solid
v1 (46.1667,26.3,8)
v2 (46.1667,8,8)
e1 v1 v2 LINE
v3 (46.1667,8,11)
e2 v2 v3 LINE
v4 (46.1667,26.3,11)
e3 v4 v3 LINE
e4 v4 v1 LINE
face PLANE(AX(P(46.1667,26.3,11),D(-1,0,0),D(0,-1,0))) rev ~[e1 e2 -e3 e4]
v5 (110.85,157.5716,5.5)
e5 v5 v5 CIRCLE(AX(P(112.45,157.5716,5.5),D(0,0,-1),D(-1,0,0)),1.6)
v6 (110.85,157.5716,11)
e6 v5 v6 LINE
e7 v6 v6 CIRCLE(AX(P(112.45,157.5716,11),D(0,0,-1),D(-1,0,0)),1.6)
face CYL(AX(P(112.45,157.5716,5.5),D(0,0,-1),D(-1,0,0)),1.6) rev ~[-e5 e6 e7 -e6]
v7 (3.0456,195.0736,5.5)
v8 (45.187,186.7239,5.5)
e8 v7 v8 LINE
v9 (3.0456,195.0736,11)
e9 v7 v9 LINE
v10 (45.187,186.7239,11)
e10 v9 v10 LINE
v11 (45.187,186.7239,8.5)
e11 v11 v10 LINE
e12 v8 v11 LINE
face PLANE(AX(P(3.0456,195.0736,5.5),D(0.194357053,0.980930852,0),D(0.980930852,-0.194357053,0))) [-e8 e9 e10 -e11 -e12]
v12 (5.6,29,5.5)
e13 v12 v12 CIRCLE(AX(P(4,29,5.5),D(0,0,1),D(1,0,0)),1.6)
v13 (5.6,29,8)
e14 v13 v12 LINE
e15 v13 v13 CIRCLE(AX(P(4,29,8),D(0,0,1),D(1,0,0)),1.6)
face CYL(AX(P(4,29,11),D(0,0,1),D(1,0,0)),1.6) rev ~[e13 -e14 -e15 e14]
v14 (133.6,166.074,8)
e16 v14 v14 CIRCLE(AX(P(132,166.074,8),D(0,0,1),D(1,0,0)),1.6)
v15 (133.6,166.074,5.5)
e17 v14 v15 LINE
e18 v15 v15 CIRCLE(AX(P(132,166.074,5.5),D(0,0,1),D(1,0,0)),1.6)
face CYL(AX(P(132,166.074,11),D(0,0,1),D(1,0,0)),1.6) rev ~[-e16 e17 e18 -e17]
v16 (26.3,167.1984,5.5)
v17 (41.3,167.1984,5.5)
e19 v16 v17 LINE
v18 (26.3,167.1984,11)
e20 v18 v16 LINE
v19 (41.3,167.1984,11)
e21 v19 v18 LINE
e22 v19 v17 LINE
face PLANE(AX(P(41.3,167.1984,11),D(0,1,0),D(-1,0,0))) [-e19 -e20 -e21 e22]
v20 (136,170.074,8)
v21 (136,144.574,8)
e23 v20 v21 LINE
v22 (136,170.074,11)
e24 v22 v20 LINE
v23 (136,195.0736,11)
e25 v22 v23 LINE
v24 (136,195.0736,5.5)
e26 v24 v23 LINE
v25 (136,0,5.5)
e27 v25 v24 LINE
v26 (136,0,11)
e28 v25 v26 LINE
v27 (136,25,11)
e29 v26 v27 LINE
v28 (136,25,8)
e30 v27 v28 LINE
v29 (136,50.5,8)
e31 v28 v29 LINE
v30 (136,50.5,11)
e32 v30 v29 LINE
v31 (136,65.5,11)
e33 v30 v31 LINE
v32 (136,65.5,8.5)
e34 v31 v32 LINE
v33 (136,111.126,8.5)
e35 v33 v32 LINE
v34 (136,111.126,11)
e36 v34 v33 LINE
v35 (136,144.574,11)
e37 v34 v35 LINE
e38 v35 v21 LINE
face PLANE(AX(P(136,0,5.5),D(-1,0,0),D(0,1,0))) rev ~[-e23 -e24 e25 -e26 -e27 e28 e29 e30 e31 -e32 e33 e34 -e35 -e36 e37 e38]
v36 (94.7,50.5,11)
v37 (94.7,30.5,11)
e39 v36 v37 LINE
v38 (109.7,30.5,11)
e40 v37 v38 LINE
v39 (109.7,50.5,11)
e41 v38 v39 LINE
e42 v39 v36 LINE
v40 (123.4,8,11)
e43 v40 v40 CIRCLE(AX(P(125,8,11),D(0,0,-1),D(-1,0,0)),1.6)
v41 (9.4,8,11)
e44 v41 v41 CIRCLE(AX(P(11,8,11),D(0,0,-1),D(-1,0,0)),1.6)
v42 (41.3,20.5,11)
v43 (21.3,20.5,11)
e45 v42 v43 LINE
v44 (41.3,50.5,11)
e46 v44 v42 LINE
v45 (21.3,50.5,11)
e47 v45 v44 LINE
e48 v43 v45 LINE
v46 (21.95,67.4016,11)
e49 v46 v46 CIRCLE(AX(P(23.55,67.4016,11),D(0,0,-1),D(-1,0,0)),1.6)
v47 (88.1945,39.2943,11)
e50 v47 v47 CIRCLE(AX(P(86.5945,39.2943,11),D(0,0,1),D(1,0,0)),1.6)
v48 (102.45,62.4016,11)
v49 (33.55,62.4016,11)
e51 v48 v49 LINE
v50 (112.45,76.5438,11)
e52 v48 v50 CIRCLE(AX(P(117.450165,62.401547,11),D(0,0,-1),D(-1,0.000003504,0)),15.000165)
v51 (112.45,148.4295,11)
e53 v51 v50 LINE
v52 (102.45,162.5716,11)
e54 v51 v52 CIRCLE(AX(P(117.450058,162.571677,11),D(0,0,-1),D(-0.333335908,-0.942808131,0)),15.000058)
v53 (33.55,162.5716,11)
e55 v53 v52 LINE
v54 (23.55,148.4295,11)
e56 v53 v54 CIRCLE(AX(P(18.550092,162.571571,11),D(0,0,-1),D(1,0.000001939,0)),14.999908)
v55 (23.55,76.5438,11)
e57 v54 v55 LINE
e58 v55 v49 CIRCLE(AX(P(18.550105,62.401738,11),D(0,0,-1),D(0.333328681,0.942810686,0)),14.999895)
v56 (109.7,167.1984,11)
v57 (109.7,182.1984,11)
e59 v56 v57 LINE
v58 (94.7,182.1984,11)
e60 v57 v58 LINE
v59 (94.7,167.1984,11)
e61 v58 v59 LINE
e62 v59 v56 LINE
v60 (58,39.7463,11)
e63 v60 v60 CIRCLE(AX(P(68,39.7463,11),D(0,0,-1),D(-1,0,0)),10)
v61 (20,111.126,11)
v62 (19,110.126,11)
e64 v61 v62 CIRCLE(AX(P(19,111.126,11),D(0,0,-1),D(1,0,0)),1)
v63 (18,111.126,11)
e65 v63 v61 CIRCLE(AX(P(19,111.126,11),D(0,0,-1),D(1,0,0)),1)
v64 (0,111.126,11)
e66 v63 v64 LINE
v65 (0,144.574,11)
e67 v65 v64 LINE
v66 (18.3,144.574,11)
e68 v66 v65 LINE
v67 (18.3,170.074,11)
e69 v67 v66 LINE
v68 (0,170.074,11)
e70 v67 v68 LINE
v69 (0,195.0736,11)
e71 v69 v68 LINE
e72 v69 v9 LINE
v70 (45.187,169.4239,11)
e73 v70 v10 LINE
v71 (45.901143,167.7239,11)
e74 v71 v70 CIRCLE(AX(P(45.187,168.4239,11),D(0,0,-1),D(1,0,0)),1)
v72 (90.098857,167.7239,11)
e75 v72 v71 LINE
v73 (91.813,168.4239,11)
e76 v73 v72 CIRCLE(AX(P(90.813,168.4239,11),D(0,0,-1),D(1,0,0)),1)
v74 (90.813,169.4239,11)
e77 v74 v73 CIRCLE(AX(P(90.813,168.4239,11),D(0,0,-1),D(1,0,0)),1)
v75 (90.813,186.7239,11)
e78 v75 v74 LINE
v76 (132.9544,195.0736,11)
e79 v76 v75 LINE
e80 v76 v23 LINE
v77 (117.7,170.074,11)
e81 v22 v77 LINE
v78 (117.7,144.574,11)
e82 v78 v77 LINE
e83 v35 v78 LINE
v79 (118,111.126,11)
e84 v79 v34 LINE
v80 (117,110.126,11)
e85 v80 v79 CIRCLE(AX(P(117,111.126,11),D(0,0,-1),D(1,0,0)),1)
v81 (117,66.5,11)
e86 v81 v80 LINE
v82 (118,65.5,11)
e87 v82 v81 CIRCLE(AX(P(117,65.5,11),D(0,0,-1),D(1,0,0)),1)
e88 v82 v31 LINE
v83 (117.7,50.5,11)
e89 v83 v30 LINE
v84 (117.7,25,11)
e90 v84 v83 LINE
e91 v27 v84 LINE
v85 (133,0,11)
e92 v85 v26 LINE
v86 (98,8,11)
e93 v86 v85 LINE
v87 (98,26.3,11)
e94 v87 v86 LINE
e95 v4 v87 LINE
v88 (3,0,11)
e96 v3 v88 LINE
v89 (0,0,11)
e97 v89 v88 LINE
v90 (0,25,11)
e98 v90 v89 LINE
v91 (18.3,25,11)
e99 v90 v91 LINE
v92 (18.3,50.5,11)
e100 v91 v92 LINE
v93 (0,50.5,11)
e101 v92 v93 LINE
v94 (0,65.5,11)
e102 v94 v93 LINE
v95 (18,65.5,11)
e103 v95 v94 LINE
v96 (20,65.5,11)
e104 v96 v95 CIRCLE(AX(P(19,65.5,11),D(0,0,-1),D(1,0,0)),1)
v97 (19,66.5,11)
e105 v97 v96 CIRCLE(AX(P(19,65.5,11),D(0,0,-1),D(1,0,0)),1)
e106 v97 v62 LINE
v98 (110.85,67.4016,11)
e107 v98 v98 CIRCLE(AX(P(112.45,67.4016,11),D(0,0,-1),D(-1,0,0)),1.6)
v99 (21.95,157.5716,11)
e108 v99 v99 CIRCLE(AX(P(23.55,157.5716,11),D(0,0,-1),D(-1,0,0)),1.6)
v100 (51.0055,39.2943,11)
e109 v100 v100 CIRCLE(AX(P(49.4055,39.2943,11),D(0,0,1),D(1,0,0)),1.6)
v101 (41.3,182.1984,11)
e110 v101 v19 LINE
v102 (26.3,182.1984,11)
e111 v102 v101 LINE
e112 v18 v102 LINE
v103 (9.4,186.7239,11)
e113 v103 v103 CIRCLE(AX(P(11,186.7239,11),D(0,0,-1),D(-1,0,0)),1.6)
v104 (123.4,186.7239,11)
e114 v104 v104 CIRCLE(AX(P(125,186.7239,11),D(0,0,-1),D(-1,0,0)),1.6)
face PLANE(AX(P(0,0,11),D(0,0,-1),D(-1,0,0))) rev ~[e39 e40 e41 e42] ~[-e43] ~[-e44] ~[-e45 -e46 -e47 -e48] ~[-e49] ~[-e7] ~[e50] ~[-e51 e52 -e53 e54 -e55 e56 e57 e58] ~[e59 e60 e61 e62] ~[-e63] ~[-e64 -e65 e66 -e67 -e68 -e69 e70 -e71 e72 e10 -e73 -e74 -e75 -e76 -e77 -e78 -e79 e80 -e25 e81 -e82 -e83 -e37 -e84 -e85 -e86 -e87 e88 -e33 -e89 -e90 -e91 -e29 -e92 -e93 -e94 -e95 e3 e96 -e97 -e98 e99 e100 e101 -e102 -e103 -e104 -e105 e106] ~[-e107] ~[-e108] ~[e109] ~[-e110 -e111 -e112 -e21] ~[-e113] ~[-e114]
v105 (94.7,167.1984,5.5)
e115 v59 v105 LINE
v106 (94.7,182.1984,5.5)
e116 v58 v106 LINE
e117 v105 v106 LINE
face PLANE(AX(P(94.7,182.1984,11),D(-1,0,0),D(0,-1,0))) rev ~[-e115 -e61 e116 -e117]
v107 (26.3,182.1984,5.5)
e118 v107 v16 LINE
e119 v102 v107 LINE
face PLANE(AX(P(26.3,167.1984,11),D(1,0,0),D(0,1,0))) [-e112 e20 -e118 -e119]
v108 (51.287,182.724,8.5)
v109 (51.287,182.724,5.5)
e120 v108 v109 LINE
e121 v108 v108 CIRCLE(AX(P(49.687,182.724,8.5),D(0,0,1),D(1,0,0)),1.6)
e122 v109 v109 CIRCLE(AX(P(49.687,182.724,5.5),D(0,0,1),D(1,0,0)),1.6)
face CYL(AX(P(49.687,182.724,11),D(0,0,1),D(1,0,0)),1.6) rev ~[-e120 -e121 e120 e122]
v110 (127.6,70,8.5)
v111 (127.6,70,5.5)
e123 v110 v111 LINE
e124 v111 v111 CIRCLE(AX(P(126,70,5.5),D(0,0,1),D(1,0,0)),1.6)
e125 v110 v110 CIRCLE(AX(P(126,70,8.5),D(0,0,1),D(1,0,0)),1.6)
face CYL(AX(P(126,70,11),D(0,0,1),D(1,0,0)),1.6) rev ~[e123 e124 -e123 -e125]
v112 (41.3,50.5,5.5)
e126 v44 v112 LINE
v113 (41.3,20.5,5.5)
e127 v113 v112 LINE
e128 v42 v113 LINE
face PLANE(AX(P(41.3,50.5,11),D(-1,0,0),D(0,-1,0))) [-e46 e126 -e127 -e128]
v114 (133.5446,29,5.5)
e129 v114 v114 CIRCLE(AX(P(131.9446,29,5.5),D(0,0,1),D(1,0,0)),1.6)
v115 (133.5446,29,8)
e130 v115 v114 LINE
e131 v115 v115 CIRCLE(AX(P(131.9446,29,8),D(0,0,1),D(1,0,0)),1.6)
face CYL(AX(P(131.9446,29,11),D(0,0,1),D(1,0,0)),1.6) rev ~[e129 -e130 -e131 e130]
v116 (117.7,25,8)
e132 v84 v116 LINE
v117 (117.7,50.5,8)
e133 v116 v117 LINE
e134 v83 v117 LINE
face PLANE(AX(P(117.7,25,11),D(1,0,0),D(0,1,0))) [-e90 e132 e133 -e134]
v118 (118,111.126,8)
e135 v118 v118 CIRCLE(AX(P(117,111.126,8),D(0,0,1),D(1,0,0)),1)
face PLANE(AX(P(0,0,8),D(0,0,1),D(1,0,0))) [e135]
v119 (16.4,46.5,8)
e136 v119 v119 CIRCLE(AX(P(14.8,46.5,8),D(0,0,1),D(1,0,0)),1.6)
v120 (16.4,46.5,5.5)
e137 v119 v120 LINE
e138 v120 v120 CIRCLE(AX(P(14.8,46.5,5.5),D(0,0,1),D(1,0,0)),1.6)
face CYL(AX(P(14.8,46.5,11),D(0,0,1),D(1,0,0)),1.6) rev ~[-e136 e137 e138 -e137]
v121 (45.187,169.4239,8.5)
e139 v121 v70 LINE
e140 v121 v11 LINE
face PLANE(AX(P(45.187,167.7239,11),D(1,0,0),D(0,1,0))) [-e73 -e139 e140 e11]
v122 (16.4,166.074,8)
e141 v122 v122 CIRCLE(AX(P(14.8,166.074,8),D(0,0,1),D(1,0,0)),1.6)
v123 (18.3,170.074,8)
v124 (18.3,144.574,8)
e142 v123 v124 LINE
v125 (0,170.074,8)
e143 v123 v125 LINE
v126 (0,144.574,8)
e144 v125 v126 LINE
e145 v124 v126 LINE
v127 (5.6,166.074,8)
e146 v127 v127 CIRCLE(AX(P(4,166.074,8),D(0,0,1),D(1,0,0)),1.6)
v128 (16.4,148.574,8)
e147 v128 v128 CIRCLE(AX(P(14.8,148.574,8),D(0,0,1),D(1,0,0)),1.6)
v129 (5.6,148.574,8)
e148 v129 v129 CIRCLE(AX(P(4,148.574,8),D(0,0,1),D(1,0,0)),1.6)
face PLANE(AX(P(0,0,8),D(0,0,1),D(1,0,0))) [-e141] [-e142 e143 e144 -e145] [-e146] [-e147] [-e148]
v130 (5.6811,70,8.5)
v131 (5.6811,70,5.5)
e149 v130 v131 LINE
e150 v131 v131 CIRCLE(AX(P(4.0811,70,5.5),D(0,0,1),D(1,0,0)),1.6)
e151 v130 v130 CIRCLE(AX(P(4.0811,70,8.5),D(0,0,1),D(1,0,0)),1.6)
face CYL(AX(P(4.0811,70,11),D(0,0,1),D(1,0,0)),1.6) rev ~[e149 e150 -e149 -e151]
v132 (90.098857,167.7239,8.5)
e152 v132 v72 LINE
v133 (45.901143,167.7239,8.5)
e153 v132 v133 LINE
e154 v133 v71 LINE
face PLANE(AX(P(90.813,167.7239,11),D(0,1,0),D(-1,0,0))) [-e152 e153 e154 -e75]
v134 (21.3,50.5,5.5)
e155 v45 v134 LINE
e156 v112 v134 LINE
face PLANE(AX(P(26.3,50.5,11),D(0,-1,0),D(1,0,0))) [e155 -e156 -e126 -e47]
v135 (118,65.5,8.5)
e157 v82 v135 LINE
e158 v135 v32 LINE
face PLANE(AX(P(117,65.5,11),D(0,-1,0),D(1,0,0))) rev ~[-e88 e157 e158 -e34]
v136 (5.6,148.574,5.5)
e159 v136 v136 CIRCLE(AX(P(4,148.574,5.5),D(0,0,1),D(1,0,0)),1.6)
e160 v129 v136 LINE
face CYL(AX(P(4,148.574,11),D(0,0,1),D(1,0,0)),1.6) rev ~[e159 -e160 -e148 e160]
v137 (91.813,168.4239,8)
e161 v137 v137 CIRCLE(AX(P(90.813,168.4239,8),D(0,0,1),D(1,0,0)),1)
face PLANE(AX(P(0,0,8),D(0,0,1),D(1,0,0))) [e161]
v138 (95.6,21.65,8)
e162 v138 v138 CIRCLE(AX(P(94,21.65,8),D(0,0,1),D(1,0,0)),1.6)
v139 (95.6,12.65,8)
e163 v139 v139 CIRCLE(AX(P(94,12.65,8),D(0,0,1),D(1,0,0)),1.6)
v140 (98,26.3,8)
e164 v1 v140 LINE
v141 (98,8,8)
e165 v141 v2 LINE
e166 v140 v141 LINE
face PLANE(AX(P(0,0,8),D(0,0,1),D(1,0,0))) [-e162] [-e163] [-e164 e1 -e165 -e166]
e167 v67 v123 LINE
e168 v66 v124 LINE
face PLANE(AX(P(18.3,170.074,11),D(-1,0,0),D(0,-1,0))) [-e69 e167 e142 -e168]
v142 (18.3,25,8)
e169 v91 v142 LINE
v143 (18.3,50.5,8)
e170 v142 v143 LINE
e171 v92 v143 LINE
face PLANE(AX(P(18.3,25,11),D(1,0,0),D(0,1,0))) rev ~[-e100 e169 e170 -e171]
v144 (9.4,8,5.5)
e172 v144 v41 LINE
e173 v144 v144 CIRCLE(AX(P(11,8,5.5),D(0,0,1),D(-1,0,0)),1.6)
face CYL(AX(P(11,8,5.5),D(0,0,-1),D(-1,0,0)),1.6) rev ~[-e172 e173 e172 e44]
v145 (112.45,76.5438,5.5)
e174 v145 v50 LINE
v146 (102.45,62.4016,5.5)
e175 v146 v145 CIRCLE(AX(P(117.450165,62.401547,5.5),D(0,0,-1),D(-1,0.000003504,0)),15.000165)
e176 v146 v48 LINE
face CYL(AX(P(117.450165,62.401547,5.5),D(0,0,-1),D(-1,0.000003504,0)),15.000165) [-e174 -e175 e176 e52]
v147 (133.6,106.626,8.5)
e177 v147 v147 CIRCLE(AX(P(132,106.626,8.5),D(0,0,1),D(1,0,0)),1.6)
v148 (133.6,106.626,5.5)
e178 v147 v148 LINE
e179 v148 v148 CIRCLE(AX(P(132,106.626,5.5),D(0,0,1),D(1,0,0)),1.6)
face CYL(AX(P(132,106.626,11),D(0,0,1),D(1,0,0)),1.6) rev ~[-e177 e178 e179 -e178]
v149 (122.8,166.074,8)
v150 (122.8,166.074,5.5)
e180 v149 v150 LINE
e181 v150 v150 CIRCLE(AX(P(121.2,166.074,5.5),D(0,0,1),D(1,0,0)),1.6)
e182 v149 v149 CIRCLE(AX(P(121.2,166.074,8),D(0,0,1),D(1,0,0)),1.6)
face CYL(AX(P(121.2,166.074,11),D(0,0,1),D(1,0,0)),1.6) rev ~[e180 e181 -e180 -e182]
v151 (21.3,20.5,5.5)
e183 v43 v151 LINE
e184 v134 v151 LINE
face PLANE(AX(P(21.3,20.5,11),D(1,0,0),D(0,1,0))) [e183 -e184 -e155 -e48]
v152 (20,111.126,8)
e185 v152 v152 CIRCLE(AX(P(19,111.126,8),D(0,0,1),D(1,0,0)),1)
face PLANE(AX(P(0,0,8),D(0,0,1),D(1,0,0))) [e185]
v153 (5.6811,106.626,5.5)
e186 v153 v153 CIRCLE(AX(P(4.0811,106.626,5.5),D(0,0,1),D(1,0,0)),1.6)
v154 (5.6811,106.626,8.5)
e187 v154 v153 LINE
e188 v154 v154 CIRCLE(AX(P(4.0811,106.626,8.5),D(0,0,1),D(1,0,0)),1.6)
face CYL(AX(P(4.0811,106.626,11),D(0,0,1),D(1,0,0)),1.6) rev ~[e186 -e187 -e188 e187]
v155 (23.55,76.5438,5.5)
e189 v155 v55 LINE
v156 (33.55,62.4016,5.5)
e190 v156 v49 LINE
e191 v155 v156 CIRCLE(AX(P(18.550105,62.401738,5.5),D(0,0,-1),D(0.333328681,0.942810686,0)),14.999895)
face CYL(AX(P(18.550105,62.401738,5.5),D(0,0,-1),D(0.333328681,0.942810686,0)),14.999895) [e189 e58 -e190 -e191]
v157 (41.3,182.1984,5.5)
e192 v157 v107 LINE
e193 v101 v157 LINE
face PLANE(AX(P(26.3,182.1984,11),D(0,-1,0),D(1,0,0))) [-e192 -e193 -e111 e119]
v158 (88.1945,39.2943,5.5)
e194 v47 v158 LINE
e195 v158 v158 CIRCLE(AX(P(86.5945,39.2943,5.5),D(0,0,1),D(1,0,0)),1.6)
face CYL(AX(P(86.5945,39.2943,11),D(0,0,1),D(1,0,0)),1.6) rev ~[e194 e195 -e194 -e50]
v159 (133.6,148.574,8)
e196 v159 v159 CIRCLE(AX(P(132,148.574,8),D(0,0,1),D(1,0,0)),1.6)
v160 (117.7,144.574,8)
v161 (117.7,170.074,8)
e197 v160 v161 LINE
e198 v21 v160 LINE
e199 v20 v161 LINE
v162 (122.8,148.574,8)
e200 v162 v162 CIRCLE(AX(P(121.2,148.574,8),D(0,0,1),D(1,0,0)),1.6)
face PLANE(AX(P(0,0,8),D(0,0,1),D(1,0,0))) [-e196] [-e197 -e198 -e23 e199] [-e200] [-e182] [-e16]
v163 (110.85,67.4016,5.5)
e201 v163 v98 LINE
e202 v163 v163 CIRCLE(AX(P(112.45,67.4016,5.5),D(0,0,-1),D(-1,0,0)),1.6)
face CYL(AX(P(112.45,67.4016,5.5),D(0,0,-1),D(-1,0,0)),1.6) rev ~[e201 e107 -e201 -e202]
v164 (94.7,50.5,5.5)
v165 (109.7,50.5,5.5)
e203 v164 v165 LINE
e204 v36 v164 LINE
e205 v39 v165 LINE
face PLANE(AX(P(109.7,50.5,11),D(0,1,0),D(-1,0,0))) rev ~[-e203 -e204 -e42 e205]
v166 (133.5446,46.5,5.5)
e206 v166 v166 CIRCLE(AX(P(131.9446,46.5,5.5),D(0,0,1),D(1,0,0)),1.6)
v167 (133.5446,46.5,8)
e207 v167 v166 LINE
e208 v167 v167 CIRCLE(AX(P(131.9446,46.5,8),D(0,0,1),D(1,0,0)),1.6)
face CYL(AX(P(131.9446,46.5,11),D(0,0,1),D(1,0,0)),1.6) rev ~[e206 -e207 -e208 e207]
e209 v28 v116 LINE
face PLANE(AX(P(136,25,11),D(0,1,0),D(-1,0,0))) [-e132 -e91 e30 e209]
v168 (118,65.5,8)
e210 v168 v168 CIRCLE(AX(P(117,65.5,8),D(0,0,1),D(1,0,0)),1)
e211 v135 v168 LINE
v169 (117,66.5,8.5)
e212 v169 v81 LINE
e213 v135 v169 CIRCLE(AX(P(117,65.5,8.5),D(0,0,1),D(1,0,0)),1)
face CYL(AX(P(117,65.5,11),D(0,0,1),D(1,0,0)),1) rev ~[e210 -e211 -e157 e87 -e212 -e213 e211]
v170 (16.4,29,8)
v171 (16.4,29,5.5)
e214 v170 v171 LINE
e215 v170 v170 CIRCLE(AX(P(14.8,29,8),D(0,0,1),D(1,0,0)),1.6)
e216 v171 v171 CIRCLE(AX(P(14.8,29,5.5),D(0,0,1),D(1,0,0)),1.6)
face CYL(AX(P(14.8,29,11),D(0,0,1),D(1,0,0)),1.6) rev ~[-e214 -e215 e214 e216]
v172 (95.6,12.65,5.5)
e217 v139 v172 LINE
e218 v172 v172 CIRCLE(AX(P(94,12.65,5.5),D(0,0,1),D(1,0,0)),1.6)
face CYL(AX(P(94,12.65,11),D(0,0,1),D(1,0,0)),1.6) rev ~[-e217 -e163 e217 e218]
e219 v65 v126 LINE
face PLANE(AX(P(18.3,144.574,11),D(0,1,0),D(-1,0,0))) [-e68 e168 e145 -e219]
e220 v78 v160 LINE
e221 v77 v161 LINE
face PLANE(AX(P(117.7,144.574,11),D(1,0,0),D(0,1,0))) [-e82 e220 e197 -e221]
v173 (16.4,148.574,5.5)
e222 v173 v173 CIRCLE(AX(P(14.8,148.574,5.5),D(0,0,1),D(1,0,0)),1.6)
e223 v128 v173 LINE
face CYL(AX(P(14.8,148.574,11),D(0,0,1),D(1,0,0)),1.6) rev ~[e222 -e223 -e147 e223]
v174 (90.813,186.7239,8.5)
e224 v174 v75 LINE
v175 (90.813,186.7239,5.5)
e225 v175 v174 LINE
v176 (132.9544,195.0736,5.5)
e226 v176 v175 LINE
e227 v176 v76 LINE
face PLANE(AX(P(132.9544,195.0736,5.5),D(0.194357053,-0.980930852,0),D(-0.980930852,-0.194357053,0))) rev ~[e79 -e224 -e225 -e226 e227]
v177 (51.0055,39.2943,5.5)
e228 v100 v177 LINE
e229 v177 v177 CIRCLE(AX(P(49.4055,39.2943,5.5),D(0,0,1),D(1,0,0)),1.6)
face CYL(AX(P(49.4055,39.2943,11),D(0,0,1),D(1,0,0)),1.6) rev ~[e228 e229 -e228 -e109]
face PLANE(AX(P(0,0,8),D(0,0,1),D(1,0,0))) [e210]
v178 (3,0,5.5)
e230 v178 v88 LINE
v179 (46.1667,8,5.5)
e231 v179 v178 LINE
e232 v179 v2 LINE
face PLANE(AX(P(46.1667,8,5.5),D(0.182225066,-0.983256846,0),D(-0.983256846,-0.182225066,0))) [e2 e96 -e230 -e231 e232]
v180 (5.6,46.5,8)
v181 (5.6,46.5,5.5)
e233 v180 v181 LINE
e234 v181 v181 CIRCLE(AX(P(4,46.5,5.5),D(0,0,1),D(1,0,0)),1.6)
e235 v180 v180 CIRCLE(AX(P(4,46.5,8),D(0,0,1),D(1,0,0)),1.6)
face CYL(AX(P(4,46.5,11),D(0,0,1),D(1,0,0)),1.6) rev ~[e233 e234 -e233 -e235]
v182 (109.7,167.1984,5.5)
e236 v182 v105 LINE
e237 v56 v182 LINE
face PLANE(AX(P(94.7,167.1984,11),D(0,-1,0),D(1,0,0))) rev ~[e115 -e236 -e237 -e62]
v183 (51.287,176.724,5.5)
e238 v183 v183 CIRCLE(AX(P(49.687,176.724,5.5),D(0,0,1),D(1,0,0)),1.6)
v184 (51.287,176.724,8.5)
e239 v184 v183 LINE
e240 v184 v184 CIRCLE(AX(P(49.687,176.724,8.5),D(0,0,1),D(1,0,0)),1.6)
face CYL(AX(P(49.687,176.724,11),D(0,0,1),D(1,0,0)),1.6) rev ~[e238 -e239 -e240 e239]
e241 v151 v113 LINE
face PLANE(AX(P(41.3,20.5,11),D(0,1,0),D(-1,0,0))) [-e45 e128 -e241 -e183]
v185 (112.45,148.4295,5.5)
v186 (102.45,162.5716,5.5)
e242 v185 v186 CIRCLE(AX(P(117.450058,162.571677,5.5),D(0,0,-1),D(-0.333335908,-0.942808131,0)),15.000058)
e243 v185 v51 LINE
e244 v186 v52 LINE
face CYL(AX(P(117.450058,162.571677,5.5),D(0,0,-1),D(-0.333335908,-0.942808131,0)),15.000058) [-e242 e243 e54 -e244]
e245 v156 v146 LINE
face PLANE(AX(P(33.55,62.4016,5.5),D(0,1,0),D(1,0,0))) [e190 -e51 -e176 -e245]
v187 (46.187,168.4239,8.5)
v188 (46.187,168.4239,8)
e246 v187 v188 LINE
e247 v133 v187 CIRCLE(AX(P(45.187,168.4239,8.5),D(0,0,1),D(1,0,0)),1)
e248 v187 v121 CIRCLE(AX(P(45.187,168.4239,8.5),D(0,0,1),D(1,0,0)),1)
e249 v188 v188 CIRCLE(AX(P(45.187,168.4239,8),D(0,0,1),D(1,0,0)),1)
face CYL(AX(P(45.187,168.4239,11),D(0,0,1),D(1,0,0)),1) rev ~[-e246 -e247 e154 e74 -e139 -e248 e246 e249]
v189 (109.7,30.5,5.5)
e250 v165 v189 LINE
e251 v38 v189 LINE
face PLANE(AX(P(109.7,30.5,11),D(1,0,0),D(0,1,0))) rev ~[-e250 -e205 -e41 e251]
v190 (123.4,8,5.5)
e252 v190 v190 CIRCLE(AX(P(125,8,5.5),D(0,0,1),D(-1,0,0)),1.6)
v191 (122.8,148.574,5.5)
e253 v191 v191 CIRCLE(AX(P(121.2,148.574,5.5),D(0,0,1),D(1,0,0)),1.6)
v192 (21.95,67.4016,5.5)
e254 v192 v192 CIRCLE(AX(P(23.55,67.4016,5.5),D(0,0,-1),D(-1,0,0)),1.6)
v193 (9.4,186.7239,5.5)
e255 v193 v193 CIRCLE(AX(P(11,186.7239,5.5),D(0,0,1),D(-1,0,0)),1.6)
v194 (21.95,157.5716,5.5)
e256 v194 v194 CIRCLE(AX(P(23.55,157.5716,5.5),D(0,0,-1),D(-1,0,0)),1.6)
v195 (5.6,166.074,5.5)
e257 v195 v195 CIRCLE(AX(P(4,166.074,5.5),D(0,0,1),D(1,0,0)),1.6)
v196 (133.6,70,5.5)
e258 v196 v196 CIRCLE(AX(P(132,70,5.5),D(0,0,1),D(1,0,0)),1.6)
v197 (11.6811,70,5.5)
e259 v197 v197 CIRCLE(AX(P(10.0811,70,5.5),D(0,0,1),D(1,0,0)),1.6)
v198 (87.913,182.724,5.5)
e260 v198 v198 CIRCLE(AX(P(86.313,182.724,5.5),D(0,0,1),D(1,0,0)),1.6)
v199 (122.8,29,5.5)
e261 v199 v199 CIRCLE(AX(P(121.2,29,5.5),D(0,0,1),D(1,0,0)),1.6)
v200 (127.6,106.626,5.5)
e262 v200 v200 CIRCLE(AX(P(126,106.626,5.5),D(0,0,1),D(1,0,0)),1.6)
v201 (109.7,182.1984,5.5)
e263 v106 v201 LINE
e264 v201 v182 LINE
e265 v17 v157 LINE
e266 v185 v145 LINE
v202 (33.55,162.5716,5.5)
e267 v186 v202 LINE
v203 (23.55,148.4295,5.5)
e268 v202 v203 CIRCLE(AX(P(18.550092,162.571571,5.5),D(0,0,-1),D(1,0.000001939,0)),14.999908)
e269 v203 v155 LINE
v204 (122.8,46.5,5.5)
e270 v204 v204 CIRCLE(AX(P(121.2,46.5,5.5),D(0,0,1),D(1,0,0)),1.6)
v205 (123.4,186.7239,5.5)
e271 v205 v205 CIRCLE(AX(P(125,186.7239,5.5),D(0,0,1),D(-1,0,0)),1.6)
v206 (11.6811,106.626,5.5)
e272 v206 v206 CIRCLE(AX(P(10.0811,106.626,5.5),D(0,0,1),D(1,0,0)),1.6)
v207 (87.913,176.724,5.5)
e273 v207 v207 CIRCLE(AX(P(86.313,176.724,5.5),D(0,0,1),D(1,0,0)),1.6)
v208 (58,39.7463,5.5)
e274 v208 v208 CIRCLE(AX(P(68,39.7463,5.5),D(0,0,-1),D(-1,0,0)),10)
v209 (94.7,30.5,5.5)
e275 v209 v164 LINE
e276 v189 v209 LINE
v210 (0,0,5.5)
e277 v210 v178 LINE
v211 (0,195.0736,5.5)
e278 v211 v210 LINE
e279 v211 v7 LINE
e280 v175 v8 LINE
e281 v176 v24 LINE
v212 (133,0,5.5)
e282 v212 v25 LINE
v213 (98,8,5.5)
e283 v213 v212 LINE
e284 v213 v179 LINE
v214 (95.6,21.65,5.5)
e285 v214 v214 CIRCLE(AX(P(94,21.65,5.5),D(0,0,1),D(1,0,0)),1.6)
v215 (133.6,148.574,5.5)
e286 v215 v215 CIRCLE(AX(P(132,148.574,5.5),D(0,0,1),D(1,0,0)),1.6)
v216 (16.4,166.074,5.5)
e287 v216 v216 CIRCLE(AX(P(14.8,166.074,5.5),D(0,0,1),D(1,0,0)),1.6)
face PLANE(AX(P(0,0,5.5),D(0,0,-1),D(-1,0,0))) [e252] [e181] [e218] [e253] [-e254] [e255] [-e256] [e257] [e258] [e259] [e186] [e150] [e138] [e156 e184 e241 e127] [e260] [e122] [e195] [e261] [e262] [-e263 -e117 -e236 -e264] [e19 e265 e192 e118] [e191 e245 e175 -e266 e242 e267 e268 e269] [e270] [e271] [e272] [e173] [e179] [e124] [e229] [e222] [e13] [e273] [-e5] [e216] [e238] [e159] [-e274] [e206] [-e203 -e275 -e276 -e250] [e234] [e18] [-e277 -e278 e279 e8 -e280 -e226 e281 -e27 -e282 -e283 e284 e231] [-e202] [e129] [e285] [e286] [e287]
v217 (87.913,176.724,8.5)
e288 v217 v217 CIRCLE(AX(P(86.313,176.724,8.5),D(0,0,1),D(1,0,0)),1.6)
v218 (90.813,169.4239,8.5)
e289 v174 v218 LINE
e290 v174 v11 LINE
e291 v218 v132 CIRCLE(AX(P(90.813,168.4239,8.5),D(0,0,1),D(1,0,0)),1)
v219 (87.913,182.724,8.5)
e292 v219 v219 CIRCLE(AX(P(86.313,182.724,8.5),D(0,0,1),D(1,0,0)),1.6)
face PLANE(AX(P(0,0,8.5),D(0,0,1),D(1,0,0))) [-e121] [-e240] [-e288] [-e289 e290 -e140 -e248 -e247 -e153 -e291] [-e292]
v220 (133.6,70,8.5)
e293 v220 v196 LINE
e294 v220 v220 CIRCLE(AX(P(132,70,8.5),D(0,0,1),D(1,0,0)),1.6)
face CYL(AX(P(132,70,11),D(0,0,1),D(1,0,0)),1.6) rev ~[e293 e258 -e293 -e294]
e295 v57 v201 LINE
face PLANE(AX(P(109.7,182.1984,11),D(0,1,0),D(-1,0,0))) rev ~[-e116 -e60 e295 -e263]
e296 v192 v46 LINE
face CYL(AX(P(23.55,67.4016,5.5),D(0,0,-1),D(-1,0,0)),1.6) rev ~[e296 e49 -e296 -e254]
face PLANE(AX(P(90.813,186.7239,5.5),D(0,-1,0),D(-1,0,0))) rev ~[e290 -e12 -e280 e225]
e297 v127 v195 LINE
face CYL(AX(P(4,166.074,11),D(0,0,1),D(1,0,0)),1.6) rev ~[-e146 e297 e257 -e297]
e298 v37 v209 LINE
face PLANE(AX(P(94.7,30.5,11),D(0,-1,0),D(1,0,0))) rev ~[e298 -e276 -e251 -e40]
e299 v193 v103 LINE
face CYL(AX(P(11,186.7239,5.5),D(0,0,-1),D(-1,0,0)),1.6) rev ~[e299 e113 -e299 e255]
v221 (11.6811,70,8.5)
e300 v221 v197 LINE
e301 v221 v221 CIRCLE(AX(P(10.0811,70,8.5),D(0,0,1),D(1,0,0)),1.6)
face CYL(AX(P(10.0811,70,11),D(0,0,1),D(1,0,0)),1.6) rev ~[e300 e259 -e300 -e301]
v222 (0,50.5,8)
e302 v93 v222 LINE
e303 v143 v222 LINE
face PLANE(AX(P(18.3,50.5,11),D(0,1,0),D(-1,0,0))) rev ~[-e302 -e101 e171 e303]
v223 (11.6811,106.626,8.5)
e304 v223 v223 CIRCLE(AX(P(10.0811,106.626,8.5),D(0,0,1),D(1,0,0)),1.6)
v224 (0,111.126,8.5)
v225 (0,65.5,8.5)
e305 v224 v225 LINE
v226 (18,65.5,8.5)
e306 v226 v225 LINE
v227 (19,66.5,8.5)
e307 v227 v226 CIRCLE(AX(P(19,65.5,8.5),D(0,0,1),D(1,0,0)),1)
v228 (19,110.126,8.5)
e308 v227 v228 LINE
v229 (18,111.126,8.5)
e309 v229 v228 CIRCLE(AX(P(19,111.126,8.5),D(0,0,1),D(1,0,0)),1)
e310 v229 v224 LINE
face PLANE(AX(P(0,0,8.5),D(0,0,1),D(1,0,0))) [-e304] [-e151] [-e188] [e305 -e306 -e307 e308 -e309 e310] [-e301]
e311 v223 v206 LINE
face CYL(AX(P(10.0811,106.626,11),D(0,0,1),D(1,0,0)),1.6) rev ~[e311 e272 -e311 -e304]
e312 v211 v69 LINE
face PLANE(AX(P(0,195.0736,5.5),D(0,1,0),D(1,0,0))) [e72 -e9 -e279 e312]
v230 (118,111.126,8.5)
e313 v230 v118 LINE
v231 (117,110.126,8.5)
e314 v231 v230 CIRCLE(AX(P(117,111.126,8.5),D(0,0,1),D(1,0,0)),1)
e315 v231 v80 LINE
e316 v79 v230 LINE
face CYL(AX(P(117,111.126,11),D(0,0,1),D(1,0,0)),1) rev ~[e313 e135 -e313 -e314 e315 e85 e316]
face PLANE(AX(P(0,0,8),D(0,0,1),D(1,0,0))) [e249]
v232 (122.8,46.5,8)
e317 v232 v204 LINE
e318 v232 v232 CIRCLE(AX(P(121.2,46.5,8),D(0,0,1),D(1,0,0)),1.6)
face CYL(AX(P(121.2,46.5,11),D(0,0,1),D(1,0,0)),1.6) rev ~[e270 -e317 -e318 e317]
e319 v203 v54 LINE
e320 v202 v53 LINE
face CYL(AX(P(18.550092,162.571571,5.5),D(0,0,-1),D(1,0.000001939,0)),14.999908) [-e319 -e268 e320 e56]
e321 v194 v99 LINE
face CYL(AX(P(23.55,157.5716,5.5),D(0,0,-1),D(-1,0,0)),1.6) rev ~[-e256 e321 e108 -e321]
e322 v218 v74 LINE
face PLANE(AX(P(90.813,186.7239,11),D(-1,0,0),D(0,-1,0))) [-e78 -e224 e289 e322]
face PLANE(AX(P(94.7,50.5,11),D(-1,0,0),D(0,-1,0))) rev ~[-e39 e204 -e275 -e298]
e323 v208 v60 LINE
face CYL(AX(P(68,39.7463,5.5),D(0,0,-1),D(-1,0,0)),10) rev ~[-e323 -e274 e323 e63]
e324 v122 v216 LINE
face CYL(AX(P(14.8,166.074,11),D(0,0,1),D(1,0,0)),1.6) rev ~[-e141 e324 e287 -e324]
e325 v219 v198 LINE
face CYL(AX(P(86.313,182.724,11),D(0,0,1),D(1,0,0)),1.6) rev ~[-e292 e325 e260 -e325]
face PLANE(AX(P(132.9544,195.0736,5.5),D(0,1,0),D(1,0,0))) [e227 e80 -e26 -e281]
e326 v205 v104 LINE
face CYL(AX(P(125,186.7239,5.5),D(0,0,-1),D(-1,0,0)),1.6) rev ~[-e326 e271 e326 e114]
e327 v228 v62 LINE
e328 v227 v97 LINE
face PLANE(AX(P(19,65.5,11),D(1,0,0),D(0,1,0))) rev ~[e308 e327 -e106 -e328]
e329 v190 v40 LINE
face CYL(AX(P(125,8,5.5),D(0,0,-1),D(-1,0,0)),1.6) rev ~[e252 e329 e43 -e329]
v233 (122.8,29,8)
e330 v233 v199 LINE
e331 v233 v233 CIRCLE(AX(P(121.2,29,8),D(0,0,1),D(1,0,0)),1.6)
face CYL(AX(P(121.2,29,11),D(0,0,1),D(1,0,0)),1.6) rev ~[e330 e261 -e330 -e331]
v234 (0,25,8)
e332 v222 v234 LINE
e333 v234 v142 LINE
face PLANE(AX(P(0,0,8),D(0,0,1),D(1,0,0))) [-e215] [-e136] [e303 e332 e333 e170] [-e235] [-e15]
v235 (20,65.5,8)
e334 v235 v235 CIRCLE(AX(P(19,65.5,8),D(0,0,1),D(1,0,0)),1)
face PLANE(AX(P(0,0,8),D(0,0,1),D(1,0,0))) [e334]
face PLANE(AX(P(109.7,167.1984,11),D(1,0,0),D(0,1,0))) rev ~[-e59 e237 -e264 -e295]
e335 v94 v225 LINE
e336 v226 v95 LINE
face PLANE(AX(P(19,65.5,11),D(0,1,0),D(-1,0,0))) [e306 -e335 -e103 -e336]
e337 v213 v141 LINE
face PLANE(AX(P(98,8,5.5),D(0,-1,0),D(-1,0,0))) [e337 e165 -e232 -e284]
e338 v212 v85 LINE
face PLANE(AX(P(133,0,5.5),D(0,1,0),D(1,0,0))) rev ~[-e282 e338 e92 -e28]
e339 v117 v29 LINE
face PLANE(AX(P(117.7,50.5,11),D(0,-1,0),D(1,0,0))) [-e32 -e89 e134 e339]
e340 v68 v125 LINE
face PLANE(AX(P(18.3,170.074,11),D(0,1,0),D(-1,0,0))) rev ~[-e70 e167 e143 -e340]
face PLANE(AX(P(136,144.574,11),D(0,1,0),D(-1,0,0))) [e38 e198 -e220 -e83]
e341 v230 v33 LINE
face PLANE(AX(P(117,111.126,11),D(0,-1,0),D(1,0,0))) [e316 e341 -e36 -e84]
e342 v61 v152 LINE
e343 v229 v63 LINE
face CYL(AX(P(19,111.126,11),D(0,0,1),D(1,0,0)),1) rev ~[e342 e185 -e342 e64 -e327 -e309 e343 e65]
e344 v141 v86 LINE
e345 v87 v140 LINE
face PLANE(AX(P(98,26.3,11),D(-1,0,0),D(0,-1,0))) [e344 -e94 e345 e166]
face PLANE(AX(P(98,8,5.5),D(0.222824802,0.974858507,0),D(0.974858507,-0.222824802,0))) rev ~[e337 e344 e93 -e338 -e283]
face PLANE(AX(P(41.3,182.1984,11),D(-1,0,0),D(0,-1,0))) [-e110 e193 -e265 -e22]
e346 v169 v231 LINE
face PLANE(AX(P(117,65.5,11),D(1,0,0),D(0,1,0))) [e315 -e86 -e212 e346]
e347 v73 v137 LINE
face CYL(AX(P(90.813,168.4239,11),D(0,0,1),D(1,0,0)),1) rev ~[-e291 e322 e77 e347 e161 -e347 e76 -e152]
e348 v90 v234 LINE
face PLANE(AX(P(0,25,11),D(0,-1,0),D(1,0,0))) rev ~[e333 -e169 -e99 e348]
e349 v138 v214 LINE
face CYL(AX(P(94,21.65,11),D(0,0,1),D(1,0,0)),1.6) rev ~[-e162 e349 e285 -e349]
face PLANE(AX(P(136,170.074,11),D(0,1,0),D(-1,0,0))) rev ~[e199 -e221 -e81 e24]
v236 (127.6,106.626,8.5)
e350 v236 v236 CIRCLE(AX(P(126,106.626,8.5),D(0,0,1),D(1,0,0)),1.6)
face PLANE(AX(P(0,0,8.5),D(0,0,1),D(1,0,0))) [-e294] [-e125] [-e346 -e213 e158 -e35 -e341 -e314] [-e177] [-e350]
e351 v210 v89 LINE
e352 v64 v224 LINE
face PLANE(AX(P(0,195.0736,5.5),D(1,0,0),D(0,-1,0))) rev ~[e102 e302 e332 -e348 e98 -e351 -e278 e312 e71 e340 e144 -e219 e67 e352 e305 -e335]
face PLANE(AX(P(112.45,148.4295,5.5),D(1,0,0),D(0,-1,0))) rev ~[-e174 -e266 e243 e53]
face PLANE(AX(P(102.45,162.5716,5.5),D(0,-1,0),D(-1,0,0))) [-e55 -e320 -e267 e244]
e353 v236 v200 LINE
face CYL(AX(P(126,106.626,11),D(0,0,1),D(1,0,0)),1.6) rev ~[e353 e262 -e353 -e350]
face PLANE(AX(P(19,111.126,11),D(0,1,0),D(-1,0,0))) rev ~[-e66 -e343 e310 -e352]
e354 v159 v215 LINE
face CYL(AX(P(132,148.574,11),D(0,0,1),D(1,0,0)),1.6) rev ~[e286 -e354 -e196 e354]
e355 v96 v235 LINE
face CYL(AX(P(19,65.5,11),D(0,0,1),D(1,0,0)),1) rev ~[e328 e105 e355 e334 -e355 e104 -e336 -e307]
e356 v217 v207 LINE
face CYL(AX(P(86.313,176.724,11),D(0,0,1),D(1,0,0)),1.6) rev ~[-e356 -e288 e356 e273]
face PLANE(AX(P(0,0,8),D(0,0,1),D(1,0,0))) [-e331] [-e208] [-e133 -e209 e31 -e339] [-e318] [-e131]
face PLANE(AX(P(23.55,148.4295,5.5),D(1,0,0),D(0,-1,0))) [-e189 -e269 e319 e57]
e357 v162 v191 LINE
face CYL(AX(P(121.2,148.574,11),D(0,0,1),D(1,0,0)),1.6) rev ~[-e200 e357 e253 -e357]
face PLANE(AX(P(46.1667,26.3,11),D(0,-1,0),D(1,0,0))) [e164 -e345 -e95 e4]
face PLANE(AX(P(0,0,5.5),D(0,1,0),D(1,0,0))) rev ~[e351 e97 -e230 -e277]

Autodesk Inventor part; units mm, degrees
ref_plane "YZ Plane" through (0, 0, 0) normal (1, 0, 0) x (0, 1, 0)
ref_plane "XZ Plane" through (0, 0, 0) normal (0, 1, 0) x (-1, 0, 0)
ref_plane "XY Plane" through (0, 0, 0) normal (0, 0, 1) x (1, 0, 0)
ref_plane "作業平面1" through (0, 0, 5.5) normal (0, 0, 1) x (1, 0, 0)
ref_plane "作業平面6" through (0, 0, 5.5) normal (0, 0, 1) x (1, 0, 0)
ref_plane "作業平面7" through (0, 0, 5.5) normal (0, 0, -1) x (-1, 0, 0)
sketch "スケッチ9" plane through (0, 0, 5.5) normal (0, 0, -1) x (-1, 0, 0)
  circle A0 centre (-11, 186.7239) radius 1.6
  circle A1 centre (-11, 8) radius 1.6
  line L0 (-6.4, 186.7239) -> (-15.6, 186.7239)
  line L1 (-6.4, 8) -> (-15.6, 8)
  line L2 (-98, 8) -> (-133, 0)
  line L3 (-46.1667, 8) -> (-3, 0)
  line L4 (0, 0) -> (-3, 0)
  line L5 (-3.0456, 195.0736) -> (-45.187, 186.7239)
  line L6 (-132.9544, 195.0736) -> (-90.813, 186.7239)
  line L7 (-129.6, 186.7239) -> (-120.4, 186.7239)
  circle A2 centre (-125, 186.7239) radius 1.6
  line L8 (-129.6, 8) -> (-120.4, 8)
  circle A3 centre (-125, 8) radius 1.6
  line L9 (-133, 0) -> (-136, 0)
  line L10 (0, 195.0736) -> (-3.0456, 195.0736)
  line L11 (-132.9544, 195.0736) -> (-136, 195.0736)
  line L12 (0, 195.0736) -> (0, 0)
  line L13 (-136, 0) -> (-136, 195.0736)
  line L14 (-90.813, 186.7239) -> (-45.187, 186.7239)
  line L15 (-98, 8) -> (-46.1667, 8)
  point P0 (0, 0)
extrude "押し出し9" add sketch "スケッチ9" against normal blind 5.5
ref_plane "作業平面8" through (0, 0, 5.5) normal (0, 0, -1) x (-1, 0, 0)
sketch "スケッチ10" plane through (0, 0, 5.5) normal (0, 0, -1) x (-1, 0, 0)
  line L0 (0, 0) -> (0, 225.6064) construction
  circle A0 centre (-68, 39.7463) radius 10
  dimension "d399" = 20
extrude "押し出し10" cut sketch "スケッチ10" against normal blind 5.5
sketch "スケッチ13" plane through (0, 0, 11) normal (0, 0, 1) x (1, 0, 0)
  line L0 (117, 65.5) -> (117, 111.126)
  line L1 (117, 65.5) -> (136, 65.5)
  line L2 (136, 111.126) -> (136, 65.5)
  line L3 (117, 111.126) -> (136, 111.126)
  line L4 (19, 65.5) -> (19, 111.126)
  line L5 (19, 65.5) -> (0, 65.5)
  line L6 (0, 111.126) -> (0, 65.5)
  line L7 (19, 111.126) -> (0, 111.126)
  line L8 (0, 40.5) -> (18.3, 40.5) projected
  line L9 (117.7, 40.5) -> (136, 40.5) projected
  line L10 (90.813, 186.7239) -> (45.187, 186.7239) projected
  line L11 (45.187, 186.7239) -> (90.813, 186.7239)
  line L12 (90.813, 186.7239) -> (90.813, 167.7239)
  line L13 (90.813, 167.7239) -> (45.187, 167.7239)
  line L14 (45.187, 167.7239) -> (45.187, 186.7239)
  line L15 (136, 0) -> (136, 195.0736) projected
  line L16 (0, 195.0736) -> (0, 0) projected
  point P0 (105.9625, 75.6175)
  point P1 (244.1196, 130.8174)
  point P2 (0, 62.936)
  point P3 (121.3594, 75.6175)
  point P4 (30.0375, 75.6175)
  point P5 (14.6406, 75.6175)
  dimension "d207" = 45.626
  dimension "d297" = 19
  dimension "d299" = 45.626
  dimension "d300" = 19
  dimension "d394" = 25
  dimension "d395" = 25
  dimension "d428" = 19
  dimension "d458" = 45.626
extrude "押し出し13" cut sketch "スケッチ13" against normal blind 2.5
sketch "スケッチ14" plane through (132, 67.436, 11) normal (0, 0, 1) x (1, 0, 0)
  circle A0 centre (0, 39.19) radius 1.6
  line L0 (-15, 43.69) -> (4, 43.69) projected
  circle A1 centre (-6, 39.19) radius 1.6
  circle A2 centre (-6, 2.564) radius 1.6
  line L1 (4, -1.936) -> (-15, -1.936) projected
  circle A3 centre (0, 2.564) radius 1.6
  line L2 (-132, -18.936) -> (-132, 78.7879) projected
  line L3 (-132, 60.7739) -> (4.0811, 60.7739)
  line L4 (4.0811, 60.7739) -> (-63.9594, 60.7739)
  line L5 (-63.9594, 60.7739) -> (-63.9594, 40.19)
  circle A4 centre (-127.9189, 39.19) radius 1.6
  circle A5 centre (-121.9189, 39.19) radius 1.6
  circle A6 centre (-121.9189, 2.564) radius 1.6
  circle A7 centre (-127.9189, 2.564) radius 1.6
  line L6 (4, 28.69) -> (4, -16.936) projected
  circle A8 centre (-82.313, 115.288) radius 1.6
  line L7 (-86.813, 100.2879) -> (-86.813, 119.2879) projected
  circle A9 centre (-82.313, 109.288) radius 1.6
  circle A10 centre (-45.687, 115.288) radius 1.6
  line L8 (-41.187, 119.2879) -> (-41.187, 100.2879) projected
  circle A11 centre (-45.687, 109.288) radius 1.6
  point P0 (-132.5, -84.3342)
  dimension "d261" = 3.2
  dimension "d263" = 4.5
  dimension "d264" = 3.2
  dimension "d266" = 3.2
  dimension "d268" = 4.5
  dimension "d269" = 3.2
  dimension "d309" = 6
  dimension "d310" = 6
  dimension "d311" = 4
  dimension "d312" = 4
  dimension "d322" = 4.5
  dimension "d451" = 3.2
  dimension "d452" = 4.5
  dimension "d453" = 3.2
  dimension "d454" = 6
  dimension "d455" = 3.2
  dimension "d456" = 4.5
  dimension "d457" = 3.2
extrude "押し出し14" cut sketch "スケッチ14" against normal blind 5.5
sketch "スケッチ15" plane through (0, 0, 5.5) normal (0, 0, -1) x (-1, 0, 0)
  circle A0 centre (-86.313, 182.724) radius 1.6 projected
  circle A1 centre (-49.687, 182.724) radius 1.6 projected
  circle A2 centre (-10.0811, 106.626) radius 1.6 projected
  circle A3 centre (-10.0811, 70) radius 1.6 projected
  circle A4 centre (-126, 70) radius 1.6 projected
  circle A5 centre (-132, 106.626) radius 1.6 projected
  circle A6 centre (-126, 106.626) radius 1.6 projected
  circle A7 centre (-132, 70) radius 1.6 projected
  circle A8 centre (-4.0811, 70) radius 1.6 projected
  circle A9 centre (-4.0811, 106.626) radius 1.6 projected
  circle A10 centre (-49.687, 176.724) radius 1.6 projected
  circle A11 centre (-86.313, 176.724) radius 1.6 projected
  circle A12 centre (-68, 39.7463) radius 10 projected
  circle A13 centre (-125, 186.7239) radius 1.6 projected
  circle A14 centre (-125, 8) radius 1.6 projected
  circle A15 centre (-11, 8) radius 1.6 projected
  circle A16 centre (-11, 186.7239) radius 1.6 projected
  line L0 (0, 0) -> (-3, 0) projected
  line L1 (0, 195.0736) -> (0, 0) projected
  line L2 (-3.0456, 195.0736) -> (0, 195.0736) projected
  line L3 (-45.187, 186.7239) -> (-3.0456, 195.0736) projected
  line L4 (-90.813, 186.7239) -> (-45.187, 186.7239) projected
  line L5 (-132.9544, 195.0736) -> (-90.813, 186.7239) projected
  line L6 (-136, 195.0736) -> (-132.9544, 195.0736) projected
  line L7 (-136, 0) -> (-136, 195.0736) projected
  line L8 (-133, 0) -> (-136, 0) projected
  line L9 (-98, 8) -> (-133, 0) projected
  line L10 (-46.1667, 8) -> (-98, 8) projected
  line L11 (-3, 0) -> (-46.1667, 8) projected
  line L12 (-68, 157.5716) -> (-68, 90.4161)
  circle A17 centre (-23.55, 157.5716) radius 1.6
  circle A18 centre (-23.55, 67.4016) radius 1.6
  line L13 (-33.55, 162.5716) -> (-68, 162.5716)
  line L14 (-33.55, 62.4016) -> (-68, 62.4016)
  arc A19 (-33.55, 162.5716) -> (-23.55, 148.4295) centre (-18.55, 162.5716) ccw
  arc A20 (-4.9029, 68.6272) -> (-5.6778, 70.1028) centre (-18.55, 62.4016) ccw
  arc A21 (-23.55, 76.5438) -> (-33.55, 62.4016) centre (-18.55, 62.4016) ccw
  line L15 (-23.55, 148.4295) -> (-23.55, 76.5438)
  circle A22 centre (-112.45, 157.5716) radius 1.6
  circle A23 centre (-112.45, 67.4016) radius 1.6
  line L16 (-102.45, 162.5716) -> (-68, 162.5716)
  line L17 (-102.45, 62.4016) -> (-68, 62.4016)
  arc A24 (-112.45, 148.4295) -> (-102.45, 162.5716) centre (-117.45, 162.5716) ccw
  arc A25 (-102.45, 62.4016) -> (-112.45, 76.5438) centre (-117.45, 62.4016) ccw
  line L18 (-112.45, 148.4295) -> (-112.45, 76.5438)
extrude "押し出し16" cut sketch "スケッチ15" against normal blind 5.5 contours A17 | A18 | A19 L15 A21 L14 L17 A25 L18 A24 L16 L13 | A22 | A23
sketch "スケッチ16" plane through (0, 0, 11) normal (0, 0, 1) x (1, 0, 0)
  point P0 (0, 0)
sketch "スケッチ17" plane through (0, 0, 11) normal (0, 0, 1) x (1, 0, 0)
  line L0 (117, 111.126) -> (136, 111.126) projected
  line L1 (132.9544, 195.0736) -> (90.813, 186.7239) projected
  line L2 (45.187, 186.7239) -> (3.0456, 195.0736) projected
  line L3 (0, 111.126) -> (19, 111.126) projected
  line L4 (19, 111.126) -> (19, 65.5) projected
  line L5 (19, 65.5) -> (0, 65.5) projected
  line L6 (0, 0) -> (3, 0) projected
  line L7 (3, 0) -> (46.1667, 8) projected
  line L8 (98, 8) -> (133, 0) projected
  line L9 (136, 65.5) -> (117, 65.5) projected
  line L10 (117, 65.5) -> (117, 111.126) projected
  circle A0 centre (11, 8) radius 1.6 projected
  circle A1 centre (11, 186.7239) radius 1.6 projected
  circle A2 centre (45.187, 168.4239) radius 1
  circle A3 centre (90.813, 168.4239) radius 1
  line L11 (117, 65.5) -> (117, 111.126) projected
  circle A4 centre (117, 111.126) radius 1
  circle A5 centre (117, 65.5) radius 1
  line L12 (19, 111.126) -> (19, 65.5) projected
  circle A6 centre (19, 65.5) radius 1
  circle A7 centre (19, 111.126) radius 1
  line L13 (136, 195.0736) -> (132.9544, 195.0736) projected
  line L14 (3.0456, 195.0736) -> (0, 195.0736) projected
  line L15 (133, 0) -> (136, 0) projected
  line L16 (136, 111.126) -> (136, 195.0736) projected
  line L17 (0, 195.0736) -> (0, 111.126) projected
  line L18 (0, 65.5) -> (0, 0) projected
  line L19 (46.1667, 8) -> (98, 8) projected
  line L20 (136, 0) -> (136, 65.5) projected
  line L21 (90.813, 186.7239) -> (90.813, 167.7239) projected
  line L22 (90.813, 167.7239) -> (45.187, 167.7239) projected
  line L23 (45.187, 167.7239) -> (45.187, 186.7239) projected
  point P0 (0, 0)
  point P1 (117.7, 180.074)
  point P2 (18.3, 180.074)
  point P3 (18.3, 154.574)
  dimension "d372" = 2
  dimension "d373" = 2
  dimension "d376" = 2
  dimension "d393" = 2
  dimension "d416" = 2
  dimension "d417" = 2
extrude "押し出し17" cut sketch "スケッチ17" against normal blind 3 contours L10 A4 L0 | L0 A4 L10 | A5 L9 L10 | L10 L9 A5 | L21 L22 A3 | A3 L22 L21 | L22 L23 A2 | A2 L23 L22 | A6 L4 L5 | L5 L4 A6 | A7 L4 L3 | L3 L4 A7
sketch "スケッチ19" plane through (0, 0, 11) normal (0, 0, 1) x (1, 0, 0)
  circle A0 centre (86.5945, 39.2943) radius 1.6
  circle A1 centre (49.4055, 39.2943) radius 1.6
  circle A2 centre (68, 39.7463) radius 10 projected
  point P0 (0, 0)
  dimension "d418" = 3.2
  dimension "d419" = 3.2
  dimension "d420" = 18.5945
  dimension "d421" = 18.5945
extrude "押し出し19" cut sketch "スケッチ19" against normal blind 10 contours A0 | A1
sketch "スケッチ21" plane through (0, 0, 11) normal (0, 0, 1) x (1, 0, 0)
  line L0 (0, 195.0736) -> (0, 0) projected
  line L1 (18.3, 25) -> (18.3, 50.5) projected
  line L2 (0, 25) -> (18.3, 25)
  line L3 (18.3, 25) -> (18.3, 50.5)
  line L4 (18.3, 50.5) -> (0, 50.5)
  line L5 (0, 50.5) -> (0, 25)
  line L6 (18.3, 170.074) -> (0, 170.074) projected
  line L7 (0, 170.074) -> (18.3, 170.074)
  line L8 (18.3, 170.074) -> (18.3, 144.574)
  line L9 (18.3, 144.574) -> (0, 144.574)
  line L10 (0, 144.574) -> (0, 170.074)
  line L11 (136, 170.074) -> (117.7, 170.074) projected
  line L12 (136, 144.574) -> (117.7, 144.574)
  line L13 (117.7, 144.574) -> (117.7, 170.074)
  line L14 (117.7, 170.074) -> (136, 170.074)
  line L15 (136, 170.074) -> (136, 144.574)
  line L16 (136, 25) -> (136, 50.5) projected
  line L17 (136, 25) -> (117.7, 25)
  line L18 (117.7, 25) -> (117.7, 50.5)
  line L19 (117.7, 50.5) -> (136, 50.5)
  line L20 (136, 50.5) -> (136, 25)
  line L21 (98, 8) -> (133, 0) projected
  line L22 (46.1667, 26.3) -> (46.1667, 8) projected
  line L23 (98, 8) -> (46.1667, 8)
  line L24 (46.1667, 8) -> (46.1667, 26.3)
  line L25 (46.1667, 26.3) -> (98, 26.3)
  line L26 (98, 26.3) -> (98, 8)
  dimension "d427" = 25.5
sketch "スケッチ22" plane through (0, 0, 11) normal (0, 0, 1) x (1, 0, 0)
  circle A0 centre (4, 29) radius 1.6 projected
  circle A1 centre (4, 29) radius 1.6
  circle A2 centre (14.8, 29) radius 1.6 projected
  circle A3 centre (14.8, 29) radius 1.6
  circle A4 centre (14.8, 46.5) radius 1.6 projected
  circle A5 centre (14.8, 46.5) radius 1.6
  circle A6 centre (4, 46.5) radius 1.6 projected
  circle A7 centre (4, 46.5) radius 1.6
  circle A8 centre (121.2, 29) radius 1.6 projected
  circle A9 centre (121.2, 29) radius 1.6
  circle A10 centre (121.2, 46.5) radius 1.6
  circle A11 centre (131.9446, 29) radius 1.6
  circle A12 centre (131.9446, 46.5) radius 1.6
  circle A13 centre (132, 148.574) radius 1.6 projected
  circle A14 centre (132, 148.574) radius 1.6
  circle A15 centre (121.2, 148.574) radius 1.6
  circle A16 centre (132, 166.074) radius 1.6 projected
  circle A17 centre (132, 166.074) radius 1.6
  circle A18 centre (121.2, 166.074) radius 1.6 projected
  circle A19 centre (121.2, 166.074) radius 1.6
  circle A20 centre (4, 166.074) radius 1.6 projected
  circle A21 centre (4, 166.074) radius 1.6
  circle A22 centre (14.8, 166.074) radius 1.6 projected
  circle A23 centre (14.8, 166.074) radius 1.6
  circle A24 centre (14.8, 148.574) radius 1.6 projected
  circle A25 centre (14.8, 148.574) radius 1.6
  circle A26 centre (4, 148.574) radius 1.6 projected
  circle A27 centre (4, 148.574) radius 1.6
  circle A28 centre (94, 21.65) radius 1.6 projected
  circle A29 centre (94, 21.65) radius 1.6
  circle A30 centre (94, 12.65) radius 1.6 projected
  circle A31 centre (94, 12.65) radius 1.6
  point P0 (0, 0)
  dimension "d429" = 3.2
  dimension "d430" = 3.2
  dimension "d431" = 3.2
  dimension "d432" = 3.2
  dimension "d433" = 3.2
  dimension "d434" = 3.2
  dimension "d435" = 3.2
  dimension "d436" = 3.2
  dimension "d437" = 3.2
  dimension "d438" = 3.2
  dimension "d439" = 3.2
  dimension "d440" = 3.2
  dimension "d441" = 3.2
  dimension "d442" = 3.2
  dimension "d443" = 3.2
  dimension "d444" = 3.2
  dimension "d445" = 3.2
  dimension "d446" = 3.2
extrude "押し出し20" cut sketch "スケッチ21" against normal blind 3
extrude "押し出し21" cut sketch "スケッチ22" against normal blind 10
sketch "スケッチ25" plane through (0, 0, 11) normal (0, 0, 1) x (1, 0, 0)
  line L0 (26.3, 50.5) -> (41.3, 50.5)
  line L1 (41.3, 50.5) -> (41.3, 20.5)
  line L2 (41.3, 20.5) -> (26.3, 20.5)
  line L3 (109.7, 50.5) -> (94.7, 50.5)
  line L4 (94.7, 50.5) -> (94.7, 30.5)
  line L5 (94.7, 30.5) -> (109.7, 30.5)
  line L6 (109.7, 30.5) -> (109.7, 50.5)
  line L7 (41.3, 167.1984) -> (26.3, 167.1984)
  line L8 (26.3, 167.1984) -> (26.3, 182.1984)
  line L9 (26.3, 182.1984) -> (41.3, 182.1984)
  line L10 (41.3, 182.1984) -> (41.3, 167.1984)
  line L11 (94.7, 167.1984) -> (109.7, 167.1984)
  line L12 (109.7, 167.1984) -> (109.7, 182.1984)
  line L13 (109.7, 182.1984) -> (94.7, 182.1984)
  line L14 (94.7, 182.1984) -> (94.7, 167.1984)
  line L15 (26.3, 20.5) -> (21.3, 20.5)
  line L16 (21.3, 20.5) -> (21.3, 50.5)
  line L17 (21.3, 50.5) -> (26.3, 50.5)
  line L18 (41.3, 50.5) -> (21.3, 50.5)
  line L19 (21.3, 50.5) -> (21.3, 20.5)
  line L20 (21.3, 20.5) -> (41.3, 20.5)
  line L21 (41.3, 20.5) -> (41.3, 50.5)
  point P0 (0, 0)
  dimension "d474" = 30
  dimension "d475" = 15
  dimension "d476" = 20
  dimension "d479" = 15
  dimension "d480" = 15
  dimension "d481" = 15
  dimension "d482" = 15
extrude "押し出し22" cut sketch "スケッチ25" against normal blind 10
properties part number "3枚目" material "MDF 中密度繊維ボード"
